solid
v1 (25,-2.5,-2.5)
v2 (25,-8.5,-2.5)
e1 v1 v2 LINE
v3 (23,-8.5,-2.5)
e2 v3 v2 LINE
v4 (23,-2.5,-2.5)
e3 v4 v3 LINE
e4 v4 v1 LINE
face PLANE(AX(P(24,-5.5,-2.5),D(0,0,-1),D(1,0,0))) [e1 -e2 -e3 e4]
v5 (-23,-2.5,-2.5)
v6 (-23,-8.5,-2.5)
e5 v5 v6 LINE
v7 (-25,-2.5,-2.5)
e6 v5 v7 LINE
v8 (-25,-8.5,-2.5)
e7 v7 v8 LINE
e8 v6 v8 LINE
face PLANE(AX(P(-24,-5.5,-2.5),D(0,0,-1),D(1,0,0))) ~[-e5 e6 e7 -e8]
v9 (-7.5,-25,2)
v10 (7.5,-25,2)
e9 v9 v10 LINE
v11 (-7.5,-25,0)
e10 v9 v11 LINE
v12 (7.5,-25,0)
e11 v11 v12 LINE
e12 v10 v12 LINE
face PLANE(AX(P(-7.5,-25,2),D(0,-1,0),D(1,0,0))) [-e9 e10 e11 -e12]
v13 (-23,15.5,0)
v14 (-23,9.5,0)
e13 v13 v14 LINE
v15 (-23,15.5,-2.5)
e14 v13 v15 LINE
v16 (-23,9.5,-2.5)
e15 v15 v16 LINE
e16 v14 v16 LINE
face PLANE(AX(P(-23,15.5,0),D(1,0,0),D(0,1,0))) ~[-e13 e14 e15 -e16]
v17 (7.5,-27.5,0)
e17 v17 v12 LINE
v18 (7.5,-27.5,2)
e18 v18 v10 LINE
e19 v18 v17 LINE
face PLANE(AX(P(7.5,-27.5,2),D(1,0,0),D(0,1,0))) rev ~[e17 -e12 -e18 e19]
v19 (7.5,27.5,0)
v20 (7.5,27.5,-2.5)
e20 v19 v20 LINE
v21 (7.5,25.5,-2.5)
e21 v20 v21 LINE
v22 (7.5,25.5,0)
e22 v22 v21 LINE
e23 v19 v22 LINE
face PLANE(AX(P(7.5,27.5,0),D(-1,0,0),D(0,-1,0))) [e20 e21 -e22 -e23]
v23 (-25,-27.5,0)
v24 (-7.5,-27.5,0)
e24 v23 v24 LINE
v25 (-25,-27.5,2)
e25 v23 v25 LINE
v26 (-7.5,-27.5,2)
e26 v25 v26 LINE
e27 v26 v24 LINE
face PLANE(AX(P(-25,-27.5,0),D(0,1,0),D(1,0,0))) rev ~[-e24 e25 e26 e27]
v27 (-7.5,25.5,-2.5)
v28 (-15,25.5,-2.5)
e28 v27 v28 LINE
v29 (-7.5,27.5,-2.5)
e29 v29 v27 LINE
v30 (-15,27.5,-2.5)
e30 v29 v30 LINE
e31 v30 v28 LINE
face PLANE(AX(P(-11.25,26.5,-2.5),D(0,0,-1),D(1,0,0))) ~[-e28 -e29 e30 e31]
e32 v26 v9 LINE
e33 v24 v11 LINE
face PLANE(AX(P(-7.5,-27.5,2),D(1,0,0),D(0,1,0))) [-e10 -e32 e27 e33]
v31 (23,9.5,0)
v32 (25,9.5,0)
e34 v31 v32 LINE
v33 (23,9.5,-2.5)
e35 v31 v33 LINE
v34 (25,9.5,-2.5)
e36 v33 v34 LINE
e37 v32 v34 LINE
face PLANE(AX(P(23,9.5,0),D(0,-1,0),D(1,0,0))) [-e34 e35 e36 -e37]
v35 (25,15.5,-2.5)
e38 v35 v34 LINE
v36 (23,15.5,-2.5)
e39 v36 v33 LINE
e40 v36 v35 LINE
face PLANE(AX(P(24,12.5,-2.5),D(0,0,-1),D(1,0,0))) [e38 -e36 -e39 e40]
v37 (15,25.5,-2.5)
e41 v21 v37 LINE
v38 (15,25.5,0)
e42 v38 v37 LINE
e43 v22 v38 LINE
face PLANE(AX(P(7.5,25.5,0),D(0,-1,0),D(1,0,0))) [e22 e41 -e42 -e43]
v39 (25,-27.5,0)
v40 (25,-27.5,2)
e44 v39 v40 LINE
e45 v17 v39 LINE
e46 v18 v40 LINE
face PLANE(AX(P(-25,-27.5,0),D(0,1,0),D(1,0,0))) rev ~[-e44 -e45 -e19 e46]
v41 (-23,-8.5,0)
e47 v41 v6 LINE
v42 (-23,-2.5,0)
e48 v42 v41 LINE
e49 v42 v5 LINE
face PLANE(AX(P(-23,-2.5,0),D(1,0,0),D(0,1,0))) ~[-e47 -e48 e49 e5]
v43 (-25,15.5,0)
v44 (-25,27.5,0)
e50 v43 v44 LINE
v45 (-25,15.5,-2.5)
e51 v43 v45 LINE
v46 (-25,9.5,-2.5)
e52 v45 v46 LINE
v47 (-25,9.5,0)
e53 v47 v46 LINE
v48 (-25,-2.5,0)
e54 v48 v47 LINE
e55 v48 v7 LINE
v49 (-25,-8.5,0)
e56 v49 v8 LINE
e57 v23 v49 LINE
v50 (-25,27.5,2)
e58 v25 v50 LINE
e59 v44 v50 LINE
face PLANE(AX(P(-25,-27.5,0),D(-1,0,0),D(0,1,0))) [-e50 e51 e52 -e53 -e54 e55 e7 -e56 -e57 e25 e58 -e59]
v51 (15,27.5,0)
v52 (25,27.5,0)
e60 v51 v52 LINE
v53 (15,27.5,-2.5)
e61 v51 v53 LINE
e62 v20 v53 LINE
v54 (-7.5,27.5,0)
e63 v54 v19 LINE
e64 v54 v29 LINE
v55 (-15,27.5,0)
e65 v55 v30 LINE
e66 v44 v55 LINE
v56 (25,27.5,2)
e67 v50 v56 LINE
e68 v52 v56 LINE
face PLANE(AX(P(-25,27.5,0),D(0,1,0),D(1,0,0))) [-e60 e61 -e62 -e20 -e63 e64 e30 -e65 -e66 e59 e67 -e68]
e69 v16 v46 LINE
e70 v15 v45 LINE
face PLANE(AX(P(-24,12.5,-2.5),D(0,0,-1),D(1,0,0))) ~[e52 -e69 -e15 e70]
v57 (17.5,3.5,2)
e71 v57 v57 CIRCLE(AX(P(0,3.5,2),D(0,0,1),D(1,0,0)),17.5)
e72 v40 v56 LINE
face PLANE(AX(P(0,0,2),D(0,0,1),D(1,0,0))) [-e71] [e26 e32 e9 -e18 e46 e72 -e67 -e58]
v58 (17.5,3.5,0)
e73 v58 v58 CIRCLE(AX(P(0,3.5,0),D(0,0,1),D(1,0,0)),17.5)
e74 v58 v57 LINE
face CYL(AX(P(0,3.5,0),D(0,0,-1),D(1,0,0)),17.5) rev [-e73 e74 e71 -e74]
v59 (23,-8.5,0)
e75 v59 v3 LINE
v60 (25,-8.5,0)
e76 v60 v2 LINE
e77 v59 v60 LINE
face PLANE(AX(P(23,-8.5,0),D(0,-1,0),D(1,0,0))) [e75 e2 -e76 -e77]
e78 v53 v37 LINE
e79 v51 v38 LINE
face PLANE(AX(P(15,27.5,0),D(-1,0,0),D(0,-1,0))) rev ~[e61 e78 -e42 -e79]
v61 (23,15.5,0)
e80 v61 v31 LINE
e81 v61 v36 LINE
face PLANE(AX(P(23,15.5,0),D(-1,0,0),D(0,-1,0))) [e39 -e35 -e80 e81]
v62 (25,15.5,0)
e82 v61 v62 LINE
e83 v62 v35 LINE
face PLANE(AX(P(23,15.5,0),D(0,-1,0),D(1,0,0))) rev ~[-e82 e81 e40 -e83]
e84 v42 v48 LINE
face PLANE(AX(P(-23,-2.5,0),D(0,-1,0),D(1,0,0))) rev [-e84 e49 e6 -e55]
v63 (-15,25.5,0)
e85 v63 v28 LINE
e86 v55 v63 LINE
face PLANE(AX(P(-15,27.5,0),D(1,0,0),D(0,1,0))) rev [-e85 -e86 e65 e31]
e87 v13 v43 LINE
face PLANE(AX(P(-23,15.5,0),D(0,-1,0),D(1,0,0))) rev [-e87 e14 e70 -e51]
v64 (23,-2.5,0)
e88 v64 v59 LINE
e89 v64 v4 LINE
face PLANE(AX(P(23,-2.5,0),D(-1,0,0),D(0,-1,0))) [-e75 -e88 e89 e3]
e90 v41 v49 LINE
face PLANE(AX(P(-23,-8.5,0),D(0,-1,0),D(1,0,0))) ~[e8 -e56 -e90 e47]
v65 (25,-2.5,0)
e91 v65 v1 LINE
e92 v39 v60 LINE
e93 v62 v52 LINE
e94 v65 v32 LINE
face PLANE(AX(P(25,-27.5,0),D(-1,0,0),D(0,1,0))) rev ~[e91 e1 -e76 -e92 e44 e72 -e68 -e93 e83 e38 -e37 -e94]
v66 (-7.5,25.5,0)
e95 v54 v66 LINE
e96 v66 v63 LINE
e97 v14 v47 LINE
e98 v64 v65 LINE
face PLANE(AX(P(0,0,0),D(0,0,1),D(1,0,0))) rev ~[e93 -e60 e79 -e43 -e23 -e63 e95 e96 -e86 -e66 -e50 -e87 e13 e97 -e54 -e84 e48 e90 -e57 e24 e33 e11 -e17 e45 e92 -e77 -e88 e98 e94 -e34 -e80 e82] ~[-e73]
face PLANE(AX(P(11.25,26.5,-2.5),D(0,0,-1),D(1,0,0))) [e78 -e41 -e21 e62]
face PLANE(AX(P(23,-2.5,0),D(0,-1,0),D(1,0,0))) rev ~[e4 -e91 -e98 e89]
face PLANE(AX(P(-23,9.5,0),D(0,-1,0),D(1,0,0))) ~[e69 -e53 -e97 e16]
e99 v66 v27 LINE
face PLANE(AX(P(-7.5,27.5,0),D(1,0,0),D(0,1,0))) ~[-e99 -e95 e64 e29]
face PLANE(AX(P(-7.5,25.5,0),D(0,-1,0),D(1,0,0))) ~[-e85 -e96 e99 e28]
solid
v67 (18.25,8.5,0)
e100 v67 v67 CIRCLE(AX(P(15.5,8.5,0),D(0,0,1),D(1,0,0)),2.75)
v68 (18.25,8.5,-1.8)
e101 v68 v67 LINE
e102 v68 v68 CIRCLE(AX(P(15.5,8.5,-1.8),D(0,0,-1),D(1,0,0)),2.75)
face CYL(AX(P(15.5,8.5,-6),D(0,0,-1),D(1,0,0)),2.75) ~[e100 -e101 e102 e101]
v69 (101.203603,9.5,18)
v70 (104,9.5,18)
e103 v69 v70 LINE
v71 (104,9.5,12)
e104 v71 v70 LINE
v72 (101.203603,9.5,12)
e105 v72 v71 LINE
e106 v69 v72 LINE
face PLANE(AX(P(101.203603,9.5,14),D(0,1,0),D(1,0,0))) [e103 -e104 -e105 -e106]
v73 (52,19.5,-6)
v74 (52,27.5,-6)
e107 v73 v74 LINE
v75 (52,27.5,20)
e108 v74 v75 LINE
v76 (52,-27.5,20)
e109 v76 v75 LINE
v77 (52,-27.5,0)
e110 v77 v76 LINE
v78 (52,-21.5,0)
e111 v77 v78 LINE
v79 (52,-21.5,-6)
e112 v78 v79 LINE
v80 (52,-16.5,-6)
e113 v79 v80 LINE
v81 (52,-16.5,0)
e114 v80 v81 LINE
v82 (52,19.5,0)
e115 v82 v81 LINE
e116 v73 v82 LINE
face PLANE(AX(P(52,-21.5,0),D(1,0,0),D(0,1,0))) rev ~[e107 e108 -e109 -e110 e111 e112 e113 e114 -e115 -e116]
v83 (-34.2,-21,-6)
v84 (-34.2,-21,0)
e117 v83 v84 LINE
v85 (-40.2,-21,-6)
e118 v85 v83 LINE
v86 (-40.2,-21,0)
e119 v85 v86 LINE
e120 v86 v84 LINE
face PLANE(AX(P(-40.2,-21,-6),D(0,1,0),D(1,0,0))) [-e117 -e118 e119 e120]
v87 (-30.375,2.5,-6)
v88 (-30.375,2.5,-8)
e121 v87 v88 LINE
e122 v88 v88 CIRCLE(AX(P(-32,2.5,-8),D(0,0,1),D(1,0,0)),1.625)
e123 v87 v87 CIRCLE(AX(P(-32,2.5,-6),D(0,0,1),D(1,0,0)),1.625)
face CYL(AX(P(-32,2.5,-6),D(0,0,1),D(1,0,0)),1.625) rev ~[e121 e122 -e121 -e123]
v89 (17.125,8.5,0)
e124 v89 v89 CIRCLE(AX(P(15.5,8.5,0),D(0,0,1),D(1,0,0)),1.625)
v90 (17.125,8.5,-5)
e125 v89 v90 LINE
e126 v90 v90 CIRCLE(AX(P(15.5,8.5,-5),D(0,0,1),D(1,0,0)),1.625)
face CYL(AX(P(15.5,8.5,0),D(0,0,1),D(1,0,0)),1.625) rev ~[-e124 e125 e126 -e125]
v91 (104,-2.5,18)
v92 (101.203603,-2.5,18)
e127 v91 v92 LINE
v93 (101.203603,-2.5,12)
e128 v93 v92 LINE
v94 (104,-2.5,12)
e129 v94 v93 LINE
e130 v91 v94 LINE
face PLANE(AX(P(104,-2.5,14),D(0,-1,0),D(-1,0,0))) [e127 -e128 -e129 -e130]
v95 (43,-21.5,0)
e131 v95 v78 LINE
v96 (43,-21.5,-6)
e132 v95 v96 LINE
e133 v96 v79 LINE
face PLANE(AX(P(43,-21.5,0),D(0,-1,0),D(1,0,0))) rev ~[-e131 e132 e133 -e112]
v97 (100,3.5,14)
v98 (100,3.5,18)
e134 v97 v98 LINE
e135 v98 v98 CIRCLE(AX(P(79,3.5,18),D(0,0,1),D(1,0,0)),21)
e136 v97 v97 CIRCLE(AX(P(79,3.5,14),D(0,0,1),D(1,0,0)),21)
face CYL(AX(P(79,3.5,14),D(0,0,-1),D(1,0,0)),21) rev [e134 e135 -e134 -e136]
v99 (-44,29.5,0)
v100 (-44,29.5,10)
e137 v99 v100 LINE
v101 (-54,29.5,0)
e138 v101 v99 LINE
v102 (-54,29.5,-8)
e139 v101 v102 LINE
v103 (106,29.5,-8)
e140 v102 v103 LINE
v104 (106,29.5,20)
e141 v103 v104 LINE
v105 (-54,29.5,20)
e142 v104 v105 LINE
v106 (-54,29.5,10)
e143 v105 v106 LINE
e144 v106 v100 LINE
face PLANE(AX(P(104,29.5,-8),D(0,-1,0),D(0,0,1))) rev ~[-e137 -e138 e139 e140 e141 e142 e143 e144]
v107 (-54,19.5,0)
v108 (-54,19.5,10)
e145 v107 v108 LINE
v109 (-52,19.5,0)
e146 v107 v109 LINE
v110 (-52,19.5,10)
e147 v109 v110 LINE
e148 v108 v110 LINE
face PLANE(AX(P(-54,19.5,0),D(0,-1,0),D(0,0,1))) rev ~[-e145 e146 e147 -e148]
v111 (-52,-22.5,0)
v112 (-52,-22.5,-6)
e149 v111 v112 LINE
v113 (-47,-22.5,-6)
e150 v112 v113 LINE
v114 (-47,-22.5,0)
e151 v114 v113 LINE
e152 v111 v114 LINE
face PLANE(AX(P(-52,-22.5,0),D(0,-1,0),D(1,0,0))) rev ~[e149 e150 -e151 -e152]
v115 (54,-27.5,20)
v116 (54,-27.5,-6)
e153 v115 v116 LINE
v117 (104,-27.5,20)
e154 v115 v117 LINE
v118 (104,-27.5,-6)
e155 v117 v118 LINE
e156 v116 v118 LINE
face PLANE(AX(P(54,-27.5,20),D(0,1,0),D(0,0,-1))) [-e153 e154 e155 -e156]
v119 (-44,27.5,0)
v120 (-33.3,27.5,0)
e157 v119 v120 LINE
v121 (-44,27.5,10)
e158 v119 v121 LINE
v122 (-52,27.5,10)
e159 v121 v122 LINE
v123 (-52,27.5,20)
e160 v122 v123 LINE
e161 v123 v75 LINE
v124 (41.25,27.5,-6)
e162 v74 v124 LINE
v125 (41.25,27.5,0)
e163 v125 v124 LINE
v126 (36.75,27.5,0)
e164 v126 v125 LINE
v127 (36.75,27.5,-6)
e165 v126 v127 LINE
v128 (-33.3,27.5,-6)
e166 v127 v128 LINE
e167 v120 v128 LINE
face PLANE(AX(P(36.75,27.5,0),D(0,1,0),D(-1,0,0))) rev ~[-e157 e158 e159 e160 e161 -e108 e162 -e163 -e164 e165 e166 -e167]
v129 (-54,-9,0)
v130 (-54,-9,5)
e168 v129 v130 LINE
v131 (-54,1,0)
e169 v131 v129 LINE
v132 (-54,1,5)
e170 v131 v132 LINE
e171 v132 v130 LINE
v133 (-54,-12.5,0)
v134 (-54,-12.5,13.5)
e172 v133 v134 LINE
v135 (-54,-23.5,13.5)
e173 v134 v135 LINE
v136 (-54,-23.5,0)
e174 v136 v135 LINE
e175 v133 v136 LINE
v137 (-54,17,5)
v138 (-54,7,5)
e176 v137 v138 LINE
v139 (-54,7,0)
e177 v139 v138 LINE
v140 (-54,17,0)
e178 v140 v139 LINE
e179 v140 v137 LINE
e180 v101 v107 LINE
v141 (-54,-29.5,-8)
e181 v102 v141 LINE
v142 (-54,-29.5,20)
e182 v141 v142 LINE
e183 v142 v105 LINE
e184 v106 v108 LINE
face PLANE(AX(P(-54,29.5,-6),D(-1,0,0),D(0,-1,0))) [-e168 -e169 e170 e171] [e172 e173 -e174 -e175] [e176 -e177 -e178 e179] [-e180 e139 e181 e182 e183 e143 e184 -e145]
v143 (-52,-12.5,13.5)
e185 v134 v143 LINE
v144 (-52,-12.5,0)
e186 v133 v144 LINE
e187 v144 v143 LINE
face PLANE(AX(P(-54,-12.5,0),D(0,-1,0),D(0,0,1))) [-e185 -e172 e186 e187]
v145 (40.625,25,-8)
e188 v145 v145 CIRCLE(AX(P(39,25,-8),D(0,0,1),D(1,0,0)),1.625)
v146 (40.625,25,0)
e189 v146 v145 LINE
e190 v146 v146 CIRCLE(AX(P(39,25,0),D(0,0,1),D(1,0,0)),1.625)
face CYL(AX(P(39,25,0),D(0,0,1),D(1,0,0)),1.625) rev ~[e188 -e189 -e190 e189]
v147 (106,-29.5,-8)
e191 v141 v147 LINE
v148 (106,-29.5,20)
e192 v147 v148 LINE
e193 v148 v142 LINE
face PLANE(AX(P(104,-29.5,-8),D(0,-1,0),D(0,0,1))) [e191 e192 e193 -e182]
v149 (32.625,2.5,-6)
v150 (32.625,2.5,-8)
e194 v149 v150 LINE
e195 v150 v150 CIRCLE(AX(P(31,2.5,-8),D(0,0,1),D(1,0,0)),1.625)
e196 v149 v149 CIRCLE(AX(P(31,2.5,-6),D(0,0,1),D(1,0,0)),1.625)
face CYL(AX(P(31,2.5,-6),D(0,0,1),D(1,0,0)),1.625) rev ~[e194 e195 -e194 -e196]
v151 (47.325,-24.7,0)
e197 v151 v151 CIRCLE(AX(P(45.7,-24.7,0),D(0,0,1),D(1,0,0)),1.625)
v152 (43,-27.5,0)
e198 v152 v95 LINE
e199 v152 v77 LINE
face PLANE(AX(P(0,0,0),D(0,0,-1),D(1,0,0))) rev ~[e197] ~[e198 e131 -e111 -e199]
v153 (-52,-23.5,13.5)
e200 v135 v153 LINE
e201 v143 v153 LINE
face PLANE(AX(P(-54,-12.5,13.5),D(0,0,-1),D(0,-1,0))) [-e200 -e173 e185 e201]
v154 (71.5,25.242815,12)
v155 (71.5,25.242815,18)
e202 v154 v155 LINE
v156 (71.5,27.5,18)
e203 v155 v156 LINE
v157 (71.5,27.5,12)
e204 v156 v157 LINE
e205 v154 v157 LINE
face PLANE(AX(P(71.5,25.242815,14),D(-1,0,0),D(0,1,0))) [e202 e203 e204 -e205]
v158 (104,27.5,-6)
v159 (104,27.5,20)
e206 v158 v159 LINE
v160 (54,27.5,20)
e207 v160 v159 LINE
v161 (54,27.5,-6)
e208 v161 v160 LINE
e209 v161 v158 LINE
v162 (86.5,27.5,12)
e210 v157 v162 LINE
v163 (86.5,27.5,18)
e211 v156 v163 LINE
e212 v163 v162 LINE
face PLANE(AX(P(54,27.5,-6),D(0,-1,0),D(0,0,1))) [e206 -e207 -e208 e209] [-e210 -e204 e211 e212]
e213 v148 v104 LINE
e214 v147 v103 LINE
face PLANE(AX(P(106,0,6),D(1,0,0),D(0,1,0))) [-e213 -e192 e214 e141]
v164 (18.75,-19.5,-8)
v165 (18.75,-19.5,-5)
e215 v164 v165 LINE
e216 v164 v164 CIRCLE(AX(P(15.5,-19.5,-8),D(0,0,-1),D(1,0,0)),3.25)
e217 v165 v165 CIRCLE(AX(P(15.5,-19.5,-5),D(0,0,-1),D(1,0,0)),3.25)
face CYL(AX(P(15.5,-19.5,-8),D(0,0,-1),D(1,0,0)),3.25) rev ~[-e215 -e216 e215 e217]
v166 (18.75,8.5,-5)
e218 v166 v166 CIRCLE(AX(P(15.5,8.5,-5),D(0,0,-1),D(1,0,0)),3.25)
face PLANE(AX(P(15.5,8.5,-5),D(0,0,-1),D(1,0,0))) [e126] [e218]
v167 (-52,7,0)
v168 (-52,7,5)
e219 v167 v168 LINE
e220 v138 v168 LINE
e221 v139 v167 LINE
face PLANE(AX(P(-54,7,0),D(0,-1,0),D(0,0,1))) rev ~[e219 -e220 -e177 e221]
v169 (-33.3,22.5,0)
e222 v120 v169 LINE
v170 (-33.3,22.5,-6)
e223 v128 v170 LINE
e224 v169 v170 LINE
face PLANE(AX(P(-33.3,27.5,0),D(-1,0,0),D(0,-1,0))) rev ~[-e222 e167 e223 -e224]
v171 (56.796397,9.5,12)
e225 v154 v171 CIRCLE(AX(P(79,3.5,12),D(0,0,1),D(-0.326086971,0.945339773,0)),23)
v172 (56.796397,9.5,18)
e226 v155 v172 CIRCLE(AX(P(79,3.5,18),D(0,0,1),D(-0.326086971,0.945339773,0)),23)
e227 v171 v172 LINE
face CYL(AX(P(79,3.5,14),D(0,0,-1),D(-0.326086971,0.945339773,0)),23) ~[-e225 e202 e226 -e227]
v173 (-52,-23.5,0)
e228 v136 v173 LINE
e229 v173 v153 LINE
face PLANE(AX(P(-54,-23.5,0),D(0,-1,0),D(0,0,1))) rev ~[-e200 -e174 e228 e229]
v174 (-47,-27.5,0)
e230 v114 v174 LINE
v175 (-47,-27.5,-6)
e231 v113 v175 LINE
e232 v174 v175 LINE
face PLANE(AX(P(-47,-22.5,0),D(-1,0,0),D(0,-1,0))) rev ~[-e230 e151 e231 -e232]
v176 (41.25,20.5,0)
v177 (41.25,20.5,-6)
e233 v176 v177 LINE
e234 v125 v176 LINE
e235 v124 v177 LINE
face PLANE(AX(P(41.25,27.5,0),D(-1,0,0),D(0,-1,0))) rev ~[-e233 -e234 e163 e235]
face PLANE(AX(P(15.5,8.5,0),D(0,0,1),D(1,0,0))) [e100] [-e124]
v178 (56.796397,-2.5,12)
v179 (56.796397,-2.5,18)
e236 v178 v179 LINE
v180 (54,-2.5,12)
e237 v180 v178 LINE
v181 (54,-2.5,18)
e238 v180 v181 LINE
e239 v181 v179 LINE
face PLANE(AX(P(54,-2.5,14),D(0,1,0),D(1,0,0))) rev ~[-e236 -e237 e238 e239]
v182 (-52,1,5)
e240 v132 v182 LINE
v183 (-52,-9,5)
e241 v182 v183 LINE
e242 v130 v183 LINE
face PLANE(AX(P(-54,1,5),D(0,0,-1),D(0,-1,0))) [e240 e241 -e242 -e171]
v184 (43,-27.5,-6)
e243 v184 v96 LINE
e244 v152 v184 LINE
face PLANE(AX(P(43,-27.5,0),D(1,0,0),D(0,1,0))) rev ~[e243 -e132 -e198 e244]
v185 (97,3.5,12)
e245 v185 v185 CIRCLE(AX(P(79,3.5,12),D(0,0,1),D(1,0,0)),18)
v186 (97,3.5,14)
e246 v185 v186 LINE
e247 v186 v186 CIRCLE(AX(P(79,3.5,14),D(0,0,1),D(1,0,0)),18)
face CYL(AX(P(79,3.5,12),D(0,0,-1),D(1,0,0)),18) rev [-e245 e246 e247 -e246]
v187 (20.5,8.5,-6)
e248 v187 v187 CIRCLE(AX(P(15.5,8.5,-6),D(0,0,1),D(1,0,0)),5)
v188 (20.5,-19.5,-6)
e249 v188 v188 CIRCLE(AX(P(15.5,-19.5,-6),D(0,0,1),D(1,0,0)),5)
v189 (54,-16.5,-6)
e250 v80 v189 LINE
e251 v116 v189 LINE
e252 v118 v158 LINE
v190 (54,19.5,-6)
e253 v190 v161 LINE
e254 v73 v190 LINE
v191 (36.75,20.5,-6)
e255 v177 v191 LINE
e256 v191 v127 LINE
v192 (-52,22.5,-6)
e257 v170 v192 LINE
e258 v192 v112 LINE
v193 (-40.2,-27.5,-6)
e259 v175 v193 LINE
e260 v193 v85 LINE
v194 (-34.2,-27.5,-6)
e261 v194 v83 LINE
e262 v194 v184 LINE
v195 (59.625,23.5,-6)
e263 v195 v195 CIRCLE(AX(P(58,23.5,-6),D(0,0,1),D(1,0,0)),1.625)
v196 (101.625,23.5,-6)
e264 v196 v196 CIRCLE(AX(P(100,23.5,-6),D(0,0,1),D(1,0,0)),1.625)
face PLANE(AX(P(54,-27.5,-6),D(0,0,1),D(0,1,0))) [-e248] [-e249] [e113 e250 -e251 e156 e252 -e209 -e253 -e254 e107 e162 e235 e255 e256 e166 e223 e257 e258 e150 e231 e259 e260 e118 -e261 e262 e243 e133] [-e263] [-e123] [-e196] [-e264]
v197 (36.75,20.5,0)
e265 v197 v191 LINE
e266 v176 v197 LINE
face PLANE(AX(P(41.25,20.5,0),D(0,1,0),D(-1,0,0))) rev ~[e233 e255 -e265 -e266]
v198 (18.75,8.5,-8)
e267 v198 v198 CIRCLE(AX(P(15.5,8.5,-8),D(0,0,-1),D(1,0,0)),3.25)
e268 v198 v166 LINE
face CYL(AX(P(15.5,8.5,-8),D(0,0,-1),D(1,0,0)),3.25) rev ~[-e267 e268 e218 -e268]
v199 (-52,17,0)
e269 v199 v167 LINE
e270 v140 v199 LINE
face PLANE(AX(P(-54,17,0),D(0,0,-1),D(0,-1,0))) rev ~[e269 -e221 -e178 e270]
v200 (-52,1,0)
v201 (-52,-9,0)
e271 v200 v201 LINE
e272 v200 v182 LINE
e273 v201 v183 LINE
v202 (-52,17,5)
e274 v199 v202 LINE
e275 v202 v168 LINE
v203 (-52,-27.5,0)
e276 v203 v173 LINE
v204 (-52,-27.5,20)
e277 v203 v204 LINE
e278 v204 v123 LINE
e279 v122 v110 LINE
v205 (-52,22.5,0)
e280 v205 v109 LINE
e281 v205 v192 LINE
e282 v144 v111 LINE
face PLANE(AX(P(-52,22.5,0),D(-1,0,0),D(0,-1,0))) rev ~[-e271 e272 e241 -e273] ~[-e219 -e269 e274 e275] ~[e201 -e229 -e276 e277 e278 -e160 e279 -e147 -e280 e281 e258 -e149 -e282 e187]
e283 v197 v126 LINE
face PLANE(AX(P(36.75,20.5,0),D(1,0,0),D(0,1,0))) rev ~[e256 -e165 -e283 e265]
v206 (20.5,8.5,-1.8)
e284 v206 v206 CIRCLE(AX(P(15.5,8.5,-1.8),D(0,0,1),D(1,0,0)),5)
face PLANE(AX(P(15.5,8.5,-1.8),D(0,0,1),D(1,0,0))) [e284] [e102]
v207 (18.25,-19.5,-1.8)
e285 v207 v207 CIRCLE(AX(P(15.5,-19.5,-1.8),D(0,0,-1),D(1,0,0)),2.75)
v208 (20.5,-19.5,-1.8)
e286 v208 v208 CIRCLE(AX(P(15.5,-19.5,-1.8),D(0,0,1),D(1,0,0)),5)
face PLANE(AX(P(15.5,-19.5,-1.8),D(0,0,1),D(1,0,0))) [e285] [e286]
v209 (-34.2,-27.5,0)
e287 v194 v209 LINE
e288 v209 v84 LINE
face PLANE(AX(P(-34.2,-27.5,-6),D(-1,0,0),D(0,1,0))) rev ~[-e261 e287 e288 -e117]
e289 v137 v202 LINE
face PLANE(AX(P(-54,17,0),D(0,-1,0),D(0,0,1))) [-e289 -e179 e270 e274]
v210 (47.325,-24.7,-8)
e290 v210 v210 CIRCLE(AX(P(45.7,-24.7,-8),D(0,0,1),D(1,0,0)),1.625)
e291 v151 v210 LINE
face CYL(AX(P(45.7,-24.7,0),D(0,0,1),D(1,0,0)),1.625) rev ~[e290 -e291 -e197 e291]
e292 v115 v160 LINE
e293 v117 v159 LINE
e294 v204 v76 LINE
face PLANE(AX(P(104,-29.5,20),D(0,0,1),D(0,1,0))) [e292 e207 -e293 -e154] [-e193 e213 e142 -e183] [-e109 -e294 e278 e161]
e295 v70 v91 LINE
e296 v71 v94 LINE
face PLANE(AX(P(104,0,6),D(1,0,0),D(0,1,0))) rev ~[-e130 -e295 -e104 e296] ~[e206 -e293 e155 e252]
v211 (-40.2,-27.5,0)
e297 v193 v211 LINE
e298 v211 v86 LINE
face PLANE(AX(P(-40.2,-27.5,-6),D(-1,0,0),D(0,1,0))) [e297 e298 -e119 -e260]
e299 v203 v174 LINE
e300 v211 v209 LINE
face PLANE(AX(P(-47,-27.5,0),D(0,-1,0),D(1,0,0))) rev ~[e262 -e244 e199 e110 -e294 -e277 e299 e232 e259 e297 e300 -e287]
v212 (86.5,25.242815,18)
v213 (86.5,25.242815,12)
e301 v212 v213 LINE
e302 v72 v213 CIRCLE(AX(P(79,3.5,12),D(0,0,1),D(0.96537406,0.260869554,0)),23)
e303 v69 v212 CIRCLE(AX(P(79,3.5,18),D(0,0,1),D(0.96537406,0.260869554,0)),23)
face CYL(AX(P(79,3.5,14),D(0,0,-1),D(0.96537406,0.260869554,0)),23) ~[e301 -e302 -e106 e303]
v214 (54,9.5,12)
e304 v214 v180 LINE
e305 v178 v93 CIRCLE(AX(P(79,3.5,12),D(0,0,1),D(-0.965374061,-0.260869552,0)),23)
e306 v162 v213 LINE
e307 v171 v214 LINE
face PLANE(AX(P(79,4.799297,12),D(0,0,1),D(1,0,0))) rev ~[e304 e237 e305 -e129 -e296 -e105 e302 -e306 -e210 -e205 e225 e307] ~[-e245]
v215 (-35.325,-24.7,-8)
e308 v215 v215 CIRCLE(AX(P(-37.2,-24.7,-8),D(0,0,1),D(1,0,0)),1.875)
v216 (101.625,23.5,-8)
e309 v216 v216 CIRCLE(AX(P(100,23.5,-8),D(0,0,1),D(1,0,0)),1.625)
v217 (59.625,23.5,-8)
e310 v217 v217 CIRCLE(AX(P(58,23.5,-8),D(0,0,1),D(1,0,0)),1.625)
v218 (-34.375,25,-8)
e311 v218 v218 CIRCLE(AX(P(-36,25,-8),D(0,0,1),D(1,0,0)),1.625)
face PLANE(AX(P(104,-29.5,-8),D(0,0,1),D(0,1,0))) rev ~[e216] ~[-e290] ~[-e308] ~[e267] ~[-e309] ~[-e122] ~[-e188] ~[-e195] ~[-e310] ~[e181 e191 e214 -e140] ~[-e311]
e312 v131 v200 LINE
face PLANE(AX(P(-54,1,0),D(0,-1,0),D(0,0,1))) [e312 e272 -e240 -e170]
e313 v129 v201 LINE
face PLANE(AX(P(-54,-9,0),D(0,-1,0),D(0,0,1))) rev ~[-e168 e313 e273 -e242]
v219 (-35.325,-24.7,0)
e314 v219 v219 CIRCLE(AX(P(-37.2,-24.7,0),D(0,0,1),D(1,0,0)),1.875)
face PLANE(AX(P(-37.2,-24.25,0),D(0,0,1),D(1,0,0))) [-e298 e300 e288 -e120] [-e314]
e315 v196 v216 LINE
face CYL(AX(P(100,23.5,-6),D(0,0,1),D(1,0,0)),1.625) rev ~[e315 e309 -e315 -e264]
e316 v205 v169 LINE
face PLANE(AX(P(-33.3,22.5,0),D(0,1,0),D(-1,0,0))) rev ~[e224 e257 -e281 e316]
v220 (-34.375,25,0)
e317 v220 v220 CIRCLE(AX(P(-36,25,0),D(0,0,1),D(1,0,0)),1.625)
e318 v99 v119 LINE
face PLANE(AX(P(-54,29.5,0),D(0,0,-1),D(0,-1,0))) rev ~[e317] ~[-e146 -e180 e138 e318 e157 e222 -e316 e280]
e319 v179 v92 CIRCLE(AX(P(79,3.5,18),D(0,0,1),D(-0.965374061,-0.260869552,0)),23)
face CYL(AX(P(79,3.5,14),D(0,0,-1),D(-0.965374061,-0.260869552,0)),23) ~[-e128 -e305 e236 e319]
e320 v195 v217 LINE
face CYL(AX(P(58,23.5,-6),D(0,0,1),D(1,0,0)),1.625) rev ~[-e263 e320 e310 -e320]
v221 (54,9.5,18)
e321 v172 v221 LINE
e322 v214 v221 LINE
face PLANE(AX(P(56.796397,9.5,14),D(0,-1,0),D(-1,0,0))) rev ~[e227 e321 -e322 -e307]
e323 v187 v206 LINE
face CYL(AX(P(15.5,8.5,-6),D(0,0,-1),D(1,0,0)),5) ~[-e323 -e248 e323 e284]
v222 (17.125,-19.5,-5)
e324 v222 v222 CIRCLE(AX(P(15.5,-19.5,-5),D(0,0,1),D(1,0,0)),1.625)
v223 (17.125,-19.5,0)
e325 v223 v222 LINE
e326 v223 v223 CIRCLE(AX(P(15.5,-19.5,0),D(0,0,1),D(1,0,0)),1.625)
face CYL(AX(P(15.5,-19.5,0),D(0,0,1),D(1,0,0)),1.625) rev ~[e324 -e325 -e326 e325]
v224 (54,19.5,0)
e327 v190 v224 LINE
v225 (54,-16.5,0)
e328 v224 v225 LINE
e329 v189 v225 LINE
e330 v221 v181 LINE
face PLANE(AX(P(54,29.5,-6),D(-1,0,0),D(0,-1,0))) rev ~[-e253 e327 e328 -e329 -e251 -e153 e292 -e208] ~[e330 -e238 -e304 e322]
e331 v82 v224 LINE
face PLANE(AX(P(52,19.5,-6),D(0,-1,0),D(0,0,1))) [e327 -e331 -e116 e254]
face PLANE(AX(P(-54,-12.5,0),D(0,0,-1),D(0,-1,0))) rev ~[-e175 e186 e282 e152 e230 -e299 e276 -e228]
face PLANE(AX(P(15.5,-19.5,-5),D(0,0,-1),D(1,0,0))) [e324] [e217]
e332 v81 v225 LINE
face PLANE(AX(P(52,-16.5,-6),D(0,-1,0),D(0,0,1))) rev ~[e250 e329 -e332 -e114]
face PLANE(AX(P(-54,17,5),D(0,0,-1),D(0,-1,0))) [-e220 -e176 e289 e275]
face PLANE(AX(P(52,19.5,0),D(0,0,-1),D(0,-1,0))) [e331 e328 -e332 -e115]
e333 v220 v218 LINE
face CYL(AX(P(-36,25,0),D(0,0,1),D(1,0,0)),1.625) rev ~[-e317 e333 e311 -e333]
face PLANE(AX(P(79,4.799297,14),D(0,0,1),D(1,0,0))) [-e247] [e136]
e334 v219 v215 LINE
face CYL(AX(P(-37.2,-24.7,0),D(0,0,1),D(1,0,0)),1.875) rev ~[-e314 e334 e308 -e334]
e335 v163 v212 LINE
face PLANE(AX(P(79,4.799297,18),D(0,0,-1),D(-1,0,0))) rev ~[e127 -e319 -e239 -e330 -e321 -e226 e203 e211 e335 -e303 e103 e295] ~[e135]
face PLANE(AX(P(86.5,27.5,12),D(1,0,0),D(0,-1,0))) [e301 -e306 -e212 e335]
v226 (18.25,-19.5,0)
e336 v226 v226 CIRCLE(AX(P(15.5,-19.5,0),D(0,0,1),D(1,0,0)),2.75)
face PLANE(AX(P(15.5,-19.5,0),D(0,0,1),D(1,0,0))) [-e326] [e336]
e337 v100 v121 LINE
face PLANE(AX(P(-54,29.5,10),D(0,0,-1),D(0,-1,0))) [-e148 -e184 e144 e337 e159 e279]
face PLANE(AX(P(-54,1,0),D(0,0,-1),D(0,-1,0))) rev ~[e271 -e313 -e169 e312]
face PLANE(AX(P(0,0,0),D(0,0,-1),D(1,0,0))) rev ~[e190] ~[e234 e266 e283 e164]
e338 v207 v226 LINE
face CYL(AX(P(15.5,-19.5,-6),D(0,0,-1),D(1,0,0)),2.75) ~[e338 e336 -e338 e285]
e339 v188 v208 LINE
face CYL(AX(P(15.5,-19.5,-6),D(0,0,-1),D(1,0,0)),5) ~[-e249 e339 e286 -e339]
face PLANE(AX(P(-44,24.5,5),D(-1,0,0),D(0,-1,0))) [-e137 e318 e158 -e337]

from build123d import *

# Parameters (mm, degrees)
SKETCH_W        = 108
SKETCH_H        = 59
SKETCH_W_2      = 104
SKETCH_H_2      = 55
PAD_DEPTH       = 20
SKETCH001_W     = 108
SKETCH001_H     = 59
PAD001_DEPTH    = 6
SKETCH002_W     = 108
SKETCH002_H     = 59
PAD002_DEPTH    = 2
PAD003_DEPTH    = 50
SKETCH005_W     = 59
SKETCH005_H     = 28
PAD004_DEPTH    = 2
SKETCH010_R     = 18
PAD005_DEPTH    = 2
SKETCH011_R     = 21
PAD006_DEPTH    = 4
SKETCH014_R     = 1.625
POCKET007_DEPTH = 8
SKETCH022_W     = 11
SKETCH022_H     = 13.5
SKETCH022_W_2   = 10
SKETCH022_H_2   = 5
POCKET_DEPTH    = 2
SKETCH023_R     = 1.625
POCKET008_DEPTH = 2
SKETCH024_R     = 2.75
PAD010_DEPTH    = 6
SKETCH025_R     = 1.625
POCKET009_DEPTH = 8
SKETCH026_R     = 1.625
POCKET010_DEPTH = 2
SKETCH027_W     = 6
SKETCH027_H     = 6.5
PAD011_DEPTH    = 6
SKETCH028_R     = 1.875
POCKET011_DEPTH = 8
SKETCH029_W     = 10
SKETCH029_H     = 10
POCKET012_DEPTH = 10
SKETCH030_W     = 36
SKETCH030_H     = 6
POCKET013_DEPTH = 2
SKETCH031_R     = 5
SKETCH031_R_2   = 1.625
PAD012_DEPTH    = 4.2
SKETCH032_R     = 3.25
POCKET014_DEPTH = 3
SKETCH033_R     = 1.625
POCKET015_DEPTH = 8
SKETCH017_W     = 50
SKETCH017_H     = 55
SKETCH017_R     = 17.5
PAD008_DEPTH    = 2
SKETCH018_W     = 7.5
SKETCH018_H     = 2
SKETCH018_W_2   = 2
SKETCH018_H_2   = 6
PAD009_DEPTH    = 2.5
SKETCH019_W     = 15
SKETCH019_H     = 2.5
POCKET006_DEPTH = 2


with BuildPart() as holder:
    # Sketch → Pad (new body)
    with BuildSketch(Plane.XY):
        Rectangle(SKETCH_W, SKETCH_H)
        Rectangle(SKETCH_W_2, SKETCH_H_2, mode=Mode.SUBTRACT)
    extrude(amount=PAD_DEPTH)

    # Sketch001 (on Face9 of Pad) → Pad001 (join)
    with BuildSketch(Plane(origin=(0, 0, 0), x_dir=(1, 0, 0), z_dir=(0, 0, -1))):
        Rectangle(SKETCH001_W, SKETCH001_H)
        Polygon((43, 27.5), (43, 21.5), (52, 21.5), (52, -27.5), (41.25, -27.5), (41.25, -20.5), (36.75, -20.5), (36.75, -27.5), (-33.3, -27.5), (-33.3, -22.5), (-52, -22.5), (-52, 22.5), (-47, 22.5), (-47, 27.5), align=None, mode=Mode.SUBTRACT)
    extrude(amount=PAD001_DEPTH)

    # Sketch002 (on Face9 of Pad001) → Pad002 (join)
    with BuildSketch(Plane(origin=(0, 0, -6), x_dir=(1, 0, 0), z_dir=(0, 0, -1))):
        Rectangle(SKETCH002_W, SKETCH002_H)
    extrude(amount=PAD002_DEPTH)

    # Sketch004 (on Face3 of Pad002) → Pad003 (join)
    with BuildSketch(Plane.YZ.offset(54)):
        Polygon((-29.5, 20), (-27.5, 20), (-27.5, -6), (27.5, -6), (27.5, 20), (29.5, 20), (29.5, -8), (-29.5, -8), align=None)
    extrude(amount=PAD003_DEPTH)

    # Sketch005 (on Face11 of Pad003) → Pad004 (join)
    with BuildSketch(Plane.YZ.offset(104)):
        with Locations((0, 6)):
            Rectangle(SKETCH005_W, SKETCH005_H)
    extrude(amount=PAD004_DEPTH)

    # Sketch010 (on DatumPlane) → Pad005 (join)
    with BuildSketch(Plane.XY.offset(12)):
        with BuildLine():
            ThreePointArc((56.796397, -2.5), (79, -19.5), (101.203603, -2.5))
            Line((104, -2.5), (101.203603, -2.5))
            Line((104, 9.5), (104, -2.5))
            Line((101.203603, 9.5), (104, 9.5))
            ThreePointArc((101.203603, 9.5), (95.808779, 19.199202), (86.5, 25.242815))
            Line((86.5, 27.5), (86.5, 25.242815))
            Line((71.5, 27.5), (86.5, 27.5))
            Line((71.5, 25.242815), (71.5, 27.5))
            ThreePointArc((71.5, 25.242815), (62.191221, 19.199202), (56.796397, 9.5))
            Line((56.796397, 9.5), (54, 9.5))
            Line((54, 9.5), (54, -2.5))
            Line((54, -2.5), (56.796397, -2.5))
        make_face()
        with Locations((79, 3.5)):
            Circle(SKETCH010_R, mode=Mode.SUBTRACT)
    extrude(amount=PAD005_DEPTH)

    # Sketch011 (on Face29 of Pad005) → Pad006 (join)
    with BuildSketch(Plane.XY.offset(14)):
        with BuildLine():
            Line((71.5, 25.242815), (71.5, 27.5))
            Line((71.5, 27.5), (86.5, 27.5))
            Line((86.5, 27.5), (86.5, 25.242815))
            ThreePointArc((101.203603, 9.5), (95.808779, 19.199202), (86.5, 25.242815))
            Line((101.203603, 9.5), (104, 9.5))
            Line((104, 9.5), (104, -2.5))
            Line((104, -2.5), (101.203603, -2.5))
            ThreePointArc((56.796397, -2.5), (79, -19.5), (101.203603, -2.5))
            Line((54, -2.5), (56.796397, -2.5))
            Line((54, 9.5), (54, -2.5))
            Line((56.796397, 9.5), (54, 9.5))
            ThreePointArc((71.5, 25.242815), (62.191221, 19.199202), (56.796397, 9.5))
        make_face()
        with Locations((79, 3.5)):
            Circle(SKETCH011_R, mode=Mode.SUBTRACT)
    extrude(amount=PAD006_DEPTH)

    # Sketch014 → Pocket007 (cut)
    with BuildSketch(Plane.XY):
        with Locations((45.7, -24.7)):
            Circle(SKETCH014_R)
        with Locations((-36, 25)):
            Circle(SKETCH014_R)
    extrude(amount=-POCKET007_DEPTH, mode=Mode.SUBTRACT)

    # Sketch022 (on Face2 of Pad006) → Pocket (cut)
    with BuildSketch(Plane(origin=(-54, 0, 0), x_dir=(0, -1, 0), z_dir=(-1, 0, 0))):
        with Locations((18, 6.75)):
            Rectangle(SKETCH022_W, SKETCH022_H)
        with Locations((-12, 2.5)):
            Rectangle(SKETCH022_W_2, SKETCH022_H_2)
        with Locations((4, 2.5)):
            Rectangle(SKETCH022_W_2, SKETCH022_H_2)
    extrude(amount=-POCKET_DEPTH, mode=Mode.SUBTRACT)

    # Sketch023 (on Face68 of Pocket007) → Pocket008 (cut)
    with BuildSketch(Plane.XY.offset(-6)):
        with Locations((-32, 2.5)):
            Circle(SKETCH023_R)
        with Locations((31, 2.5)):
            Circle(SKETCH023_R)
    extrude(amount=-POCKET008_DEPTH, mode=Mode.SUBTRACT)

    # Sketch024 (on Face81 of Pocket008) → Pad010 (join)
    with BuildSketch(Plane.XY.offset(-6)):
        with Locations((15.5, 8.5)):
            Circle(SKETCH024_R)
        with Locations((15.5, -19.5)):
            Circle(SKETCH024_R)
    extrude(amount=PAD010_DEPTH)

    # Sketch025 (on Face93 of Pad010) → Pocket009 (cut)
    with BuildSketch(Plane.XY):
        with Locations((15.5, 8.5)):
            Circle(SKETCH025_R)
        with Locations((15.5, -19.5)):
            Circle(SKETCH025_R)
    extrude(amount=-POCKET009_DEPTH, mode=Mode.SUBTRACT)

    # Sketch026 (on Face58 of Pocket009) → Pocket010 (cut)
    with BuildSketch(Plane.XY.offset(-6)):
        with Locations((100, 23.5)):
            Circle(SKETCH026_R)
        with Locations((58, 23.5)):
            Circle(SKETCH026_R)
    extrude(amount=-POCKET010_DEPTH, mode=Mode.SUBTRACT)

    # Sketch027 (on Face85 of Pocket010) → Pad011 (join)
    with BuildSketch(Plane.XY.offset(-6)):
        with Locations((-37.2, -24.25)):
            Rectangle(SKETCH027_W, SKETCH027_H)
    extrude(amount=PAD011_DEPTH)

    # Sketch028 (on Face53 of Pad011) → Pocket011 (cut)
    with BuildSketch(Plane.XY):
        with Locations((-37.2, -24.7)):
            Circle(SKETCH028_R)
    extrude(amount=-POCKET011_DEPTH, mode=Mode.SUBTRACT)

    # Sketch029 (on Face2 of Pocket011) → Pocket012 (cut)
    with BuildSketch(Plane(origin=(-54, 0, 0), x_dir=(0, -1, 0), z_dir=(-1, 0, 0))):
        with Locations((-24.5, 5)):
            Rectangle(SKETCH029_W, SKETCH029_H)
    extrude(amount=-POCKET012_DEPTH, mode=Mode.SUBTRACT)

    # Sketch030 (on Face77 of Pocket012) → Pocket013 (cut)
    with BuildSketch(Plane(origin=(52, 0, 0), x_dir=(0, -1, 0), z_dir=(-1, 0, 0))):
        with Locations((-1.5, -3)):
            Rectangle(SKETCH030_W, SKETCH030_H)
    extrude(amount=-POCKET013_DEPTH, mode=Mode.SUBTRACT)

    # Sketch031 (on Face46 of Pocket013) → Pad012 (join)
    with BuildSketch(Plane.XY.offset(-6)):
        with Locations((15.5, 8.5)):
            Circle(SKETCH031_R)
        with Locations((15.5, 8.5)):
            Circle(SKETCH031_R_2, mode=Mode.SUBTRACT)
        with Locations((15.5, -19.5)):
            Circle(SKETCH031_R)
        with Locations((15.5, -19.5)):
            Circle(SKETCH031_R_2, mode=Mode.SUBTRACT)
    extrude(amount=PAD012_DEPTH)

    # Sketch032 (on Face22 of Pad012) → Pocket014 (cut)
    with BuildSketch(Plane(origin=(0, 0, -8), x_dir=(1, 0, 0), z_dir=(0, 0, -1))):
        with Locations((15.5, 19.5)):
            Circle(SKETCH032_R)
        with Locations((15.5, -8.5)):
            Circle(SKETCH032_R)
    extrude(amount=-POCKET014_DEPTH, mode=Mode.SUBTRACT)

    # Sketch033 (on Face71 of Pocket014) → Pocket015 (cut)
    with BuildSketch(Plane.XY):
        with Locations((39, 25)):
            Circle(SKETCH033_R)
    extrude(amount=-POCKET015_DEPTH, mode=Mode.SUBTRACT)


with BuildPart() as speaker_cover:
    # Sketch017 → Pad008 (new body)
    with BuildSketch(Plane.XY):
        Rectangle(SKETCH017_W, SKETCH017_H)
        with Locations((0, 3.5)):
            Circle(SKETCH017_R, mode=Mode.SUBTRACT)
    extrude(amount=PAD008_DEPTH)

    # Sketch018 (on Face6 of Pad008) → Pad009 (join)
    with BuildSketch(Plane(origin=(0, 0, 0), x_dir=(1, 0, 0), z_dir=(0, 0, -1))):
        with Locations((11.25, -26.5)):
            Rectangle(SKETCH018_W, SKETCH018_H)
        with Locations((24, -12.5)):
            Rectangle(SKETCH018_W_2, SKETCH018_H_2)
        with Locations((24, 5.5)):
            Rectangle(SKETCH018_W_2, SKETCH018_H_2)
    pad009 = extrude(amount=PAD009_DEPTH)

    # Mirrored: Pad009 across YZ
    add(pad009.mirror(Plane.YZ))

    # Sketch019 (on Face7 of Mirrored) → Pocket006 (cut)
    with BuildSketch(Plane.XY.offset(2)):
        with Locations((0, -26.25)):
            Rectangle(SKETCH019_W, SKETCH019_H)
    extrude(amount=-POCKET006_DEPTH, mode=Mode.SUBTRACT)


solid = Compound([holder.part, speaker_cover.part])
